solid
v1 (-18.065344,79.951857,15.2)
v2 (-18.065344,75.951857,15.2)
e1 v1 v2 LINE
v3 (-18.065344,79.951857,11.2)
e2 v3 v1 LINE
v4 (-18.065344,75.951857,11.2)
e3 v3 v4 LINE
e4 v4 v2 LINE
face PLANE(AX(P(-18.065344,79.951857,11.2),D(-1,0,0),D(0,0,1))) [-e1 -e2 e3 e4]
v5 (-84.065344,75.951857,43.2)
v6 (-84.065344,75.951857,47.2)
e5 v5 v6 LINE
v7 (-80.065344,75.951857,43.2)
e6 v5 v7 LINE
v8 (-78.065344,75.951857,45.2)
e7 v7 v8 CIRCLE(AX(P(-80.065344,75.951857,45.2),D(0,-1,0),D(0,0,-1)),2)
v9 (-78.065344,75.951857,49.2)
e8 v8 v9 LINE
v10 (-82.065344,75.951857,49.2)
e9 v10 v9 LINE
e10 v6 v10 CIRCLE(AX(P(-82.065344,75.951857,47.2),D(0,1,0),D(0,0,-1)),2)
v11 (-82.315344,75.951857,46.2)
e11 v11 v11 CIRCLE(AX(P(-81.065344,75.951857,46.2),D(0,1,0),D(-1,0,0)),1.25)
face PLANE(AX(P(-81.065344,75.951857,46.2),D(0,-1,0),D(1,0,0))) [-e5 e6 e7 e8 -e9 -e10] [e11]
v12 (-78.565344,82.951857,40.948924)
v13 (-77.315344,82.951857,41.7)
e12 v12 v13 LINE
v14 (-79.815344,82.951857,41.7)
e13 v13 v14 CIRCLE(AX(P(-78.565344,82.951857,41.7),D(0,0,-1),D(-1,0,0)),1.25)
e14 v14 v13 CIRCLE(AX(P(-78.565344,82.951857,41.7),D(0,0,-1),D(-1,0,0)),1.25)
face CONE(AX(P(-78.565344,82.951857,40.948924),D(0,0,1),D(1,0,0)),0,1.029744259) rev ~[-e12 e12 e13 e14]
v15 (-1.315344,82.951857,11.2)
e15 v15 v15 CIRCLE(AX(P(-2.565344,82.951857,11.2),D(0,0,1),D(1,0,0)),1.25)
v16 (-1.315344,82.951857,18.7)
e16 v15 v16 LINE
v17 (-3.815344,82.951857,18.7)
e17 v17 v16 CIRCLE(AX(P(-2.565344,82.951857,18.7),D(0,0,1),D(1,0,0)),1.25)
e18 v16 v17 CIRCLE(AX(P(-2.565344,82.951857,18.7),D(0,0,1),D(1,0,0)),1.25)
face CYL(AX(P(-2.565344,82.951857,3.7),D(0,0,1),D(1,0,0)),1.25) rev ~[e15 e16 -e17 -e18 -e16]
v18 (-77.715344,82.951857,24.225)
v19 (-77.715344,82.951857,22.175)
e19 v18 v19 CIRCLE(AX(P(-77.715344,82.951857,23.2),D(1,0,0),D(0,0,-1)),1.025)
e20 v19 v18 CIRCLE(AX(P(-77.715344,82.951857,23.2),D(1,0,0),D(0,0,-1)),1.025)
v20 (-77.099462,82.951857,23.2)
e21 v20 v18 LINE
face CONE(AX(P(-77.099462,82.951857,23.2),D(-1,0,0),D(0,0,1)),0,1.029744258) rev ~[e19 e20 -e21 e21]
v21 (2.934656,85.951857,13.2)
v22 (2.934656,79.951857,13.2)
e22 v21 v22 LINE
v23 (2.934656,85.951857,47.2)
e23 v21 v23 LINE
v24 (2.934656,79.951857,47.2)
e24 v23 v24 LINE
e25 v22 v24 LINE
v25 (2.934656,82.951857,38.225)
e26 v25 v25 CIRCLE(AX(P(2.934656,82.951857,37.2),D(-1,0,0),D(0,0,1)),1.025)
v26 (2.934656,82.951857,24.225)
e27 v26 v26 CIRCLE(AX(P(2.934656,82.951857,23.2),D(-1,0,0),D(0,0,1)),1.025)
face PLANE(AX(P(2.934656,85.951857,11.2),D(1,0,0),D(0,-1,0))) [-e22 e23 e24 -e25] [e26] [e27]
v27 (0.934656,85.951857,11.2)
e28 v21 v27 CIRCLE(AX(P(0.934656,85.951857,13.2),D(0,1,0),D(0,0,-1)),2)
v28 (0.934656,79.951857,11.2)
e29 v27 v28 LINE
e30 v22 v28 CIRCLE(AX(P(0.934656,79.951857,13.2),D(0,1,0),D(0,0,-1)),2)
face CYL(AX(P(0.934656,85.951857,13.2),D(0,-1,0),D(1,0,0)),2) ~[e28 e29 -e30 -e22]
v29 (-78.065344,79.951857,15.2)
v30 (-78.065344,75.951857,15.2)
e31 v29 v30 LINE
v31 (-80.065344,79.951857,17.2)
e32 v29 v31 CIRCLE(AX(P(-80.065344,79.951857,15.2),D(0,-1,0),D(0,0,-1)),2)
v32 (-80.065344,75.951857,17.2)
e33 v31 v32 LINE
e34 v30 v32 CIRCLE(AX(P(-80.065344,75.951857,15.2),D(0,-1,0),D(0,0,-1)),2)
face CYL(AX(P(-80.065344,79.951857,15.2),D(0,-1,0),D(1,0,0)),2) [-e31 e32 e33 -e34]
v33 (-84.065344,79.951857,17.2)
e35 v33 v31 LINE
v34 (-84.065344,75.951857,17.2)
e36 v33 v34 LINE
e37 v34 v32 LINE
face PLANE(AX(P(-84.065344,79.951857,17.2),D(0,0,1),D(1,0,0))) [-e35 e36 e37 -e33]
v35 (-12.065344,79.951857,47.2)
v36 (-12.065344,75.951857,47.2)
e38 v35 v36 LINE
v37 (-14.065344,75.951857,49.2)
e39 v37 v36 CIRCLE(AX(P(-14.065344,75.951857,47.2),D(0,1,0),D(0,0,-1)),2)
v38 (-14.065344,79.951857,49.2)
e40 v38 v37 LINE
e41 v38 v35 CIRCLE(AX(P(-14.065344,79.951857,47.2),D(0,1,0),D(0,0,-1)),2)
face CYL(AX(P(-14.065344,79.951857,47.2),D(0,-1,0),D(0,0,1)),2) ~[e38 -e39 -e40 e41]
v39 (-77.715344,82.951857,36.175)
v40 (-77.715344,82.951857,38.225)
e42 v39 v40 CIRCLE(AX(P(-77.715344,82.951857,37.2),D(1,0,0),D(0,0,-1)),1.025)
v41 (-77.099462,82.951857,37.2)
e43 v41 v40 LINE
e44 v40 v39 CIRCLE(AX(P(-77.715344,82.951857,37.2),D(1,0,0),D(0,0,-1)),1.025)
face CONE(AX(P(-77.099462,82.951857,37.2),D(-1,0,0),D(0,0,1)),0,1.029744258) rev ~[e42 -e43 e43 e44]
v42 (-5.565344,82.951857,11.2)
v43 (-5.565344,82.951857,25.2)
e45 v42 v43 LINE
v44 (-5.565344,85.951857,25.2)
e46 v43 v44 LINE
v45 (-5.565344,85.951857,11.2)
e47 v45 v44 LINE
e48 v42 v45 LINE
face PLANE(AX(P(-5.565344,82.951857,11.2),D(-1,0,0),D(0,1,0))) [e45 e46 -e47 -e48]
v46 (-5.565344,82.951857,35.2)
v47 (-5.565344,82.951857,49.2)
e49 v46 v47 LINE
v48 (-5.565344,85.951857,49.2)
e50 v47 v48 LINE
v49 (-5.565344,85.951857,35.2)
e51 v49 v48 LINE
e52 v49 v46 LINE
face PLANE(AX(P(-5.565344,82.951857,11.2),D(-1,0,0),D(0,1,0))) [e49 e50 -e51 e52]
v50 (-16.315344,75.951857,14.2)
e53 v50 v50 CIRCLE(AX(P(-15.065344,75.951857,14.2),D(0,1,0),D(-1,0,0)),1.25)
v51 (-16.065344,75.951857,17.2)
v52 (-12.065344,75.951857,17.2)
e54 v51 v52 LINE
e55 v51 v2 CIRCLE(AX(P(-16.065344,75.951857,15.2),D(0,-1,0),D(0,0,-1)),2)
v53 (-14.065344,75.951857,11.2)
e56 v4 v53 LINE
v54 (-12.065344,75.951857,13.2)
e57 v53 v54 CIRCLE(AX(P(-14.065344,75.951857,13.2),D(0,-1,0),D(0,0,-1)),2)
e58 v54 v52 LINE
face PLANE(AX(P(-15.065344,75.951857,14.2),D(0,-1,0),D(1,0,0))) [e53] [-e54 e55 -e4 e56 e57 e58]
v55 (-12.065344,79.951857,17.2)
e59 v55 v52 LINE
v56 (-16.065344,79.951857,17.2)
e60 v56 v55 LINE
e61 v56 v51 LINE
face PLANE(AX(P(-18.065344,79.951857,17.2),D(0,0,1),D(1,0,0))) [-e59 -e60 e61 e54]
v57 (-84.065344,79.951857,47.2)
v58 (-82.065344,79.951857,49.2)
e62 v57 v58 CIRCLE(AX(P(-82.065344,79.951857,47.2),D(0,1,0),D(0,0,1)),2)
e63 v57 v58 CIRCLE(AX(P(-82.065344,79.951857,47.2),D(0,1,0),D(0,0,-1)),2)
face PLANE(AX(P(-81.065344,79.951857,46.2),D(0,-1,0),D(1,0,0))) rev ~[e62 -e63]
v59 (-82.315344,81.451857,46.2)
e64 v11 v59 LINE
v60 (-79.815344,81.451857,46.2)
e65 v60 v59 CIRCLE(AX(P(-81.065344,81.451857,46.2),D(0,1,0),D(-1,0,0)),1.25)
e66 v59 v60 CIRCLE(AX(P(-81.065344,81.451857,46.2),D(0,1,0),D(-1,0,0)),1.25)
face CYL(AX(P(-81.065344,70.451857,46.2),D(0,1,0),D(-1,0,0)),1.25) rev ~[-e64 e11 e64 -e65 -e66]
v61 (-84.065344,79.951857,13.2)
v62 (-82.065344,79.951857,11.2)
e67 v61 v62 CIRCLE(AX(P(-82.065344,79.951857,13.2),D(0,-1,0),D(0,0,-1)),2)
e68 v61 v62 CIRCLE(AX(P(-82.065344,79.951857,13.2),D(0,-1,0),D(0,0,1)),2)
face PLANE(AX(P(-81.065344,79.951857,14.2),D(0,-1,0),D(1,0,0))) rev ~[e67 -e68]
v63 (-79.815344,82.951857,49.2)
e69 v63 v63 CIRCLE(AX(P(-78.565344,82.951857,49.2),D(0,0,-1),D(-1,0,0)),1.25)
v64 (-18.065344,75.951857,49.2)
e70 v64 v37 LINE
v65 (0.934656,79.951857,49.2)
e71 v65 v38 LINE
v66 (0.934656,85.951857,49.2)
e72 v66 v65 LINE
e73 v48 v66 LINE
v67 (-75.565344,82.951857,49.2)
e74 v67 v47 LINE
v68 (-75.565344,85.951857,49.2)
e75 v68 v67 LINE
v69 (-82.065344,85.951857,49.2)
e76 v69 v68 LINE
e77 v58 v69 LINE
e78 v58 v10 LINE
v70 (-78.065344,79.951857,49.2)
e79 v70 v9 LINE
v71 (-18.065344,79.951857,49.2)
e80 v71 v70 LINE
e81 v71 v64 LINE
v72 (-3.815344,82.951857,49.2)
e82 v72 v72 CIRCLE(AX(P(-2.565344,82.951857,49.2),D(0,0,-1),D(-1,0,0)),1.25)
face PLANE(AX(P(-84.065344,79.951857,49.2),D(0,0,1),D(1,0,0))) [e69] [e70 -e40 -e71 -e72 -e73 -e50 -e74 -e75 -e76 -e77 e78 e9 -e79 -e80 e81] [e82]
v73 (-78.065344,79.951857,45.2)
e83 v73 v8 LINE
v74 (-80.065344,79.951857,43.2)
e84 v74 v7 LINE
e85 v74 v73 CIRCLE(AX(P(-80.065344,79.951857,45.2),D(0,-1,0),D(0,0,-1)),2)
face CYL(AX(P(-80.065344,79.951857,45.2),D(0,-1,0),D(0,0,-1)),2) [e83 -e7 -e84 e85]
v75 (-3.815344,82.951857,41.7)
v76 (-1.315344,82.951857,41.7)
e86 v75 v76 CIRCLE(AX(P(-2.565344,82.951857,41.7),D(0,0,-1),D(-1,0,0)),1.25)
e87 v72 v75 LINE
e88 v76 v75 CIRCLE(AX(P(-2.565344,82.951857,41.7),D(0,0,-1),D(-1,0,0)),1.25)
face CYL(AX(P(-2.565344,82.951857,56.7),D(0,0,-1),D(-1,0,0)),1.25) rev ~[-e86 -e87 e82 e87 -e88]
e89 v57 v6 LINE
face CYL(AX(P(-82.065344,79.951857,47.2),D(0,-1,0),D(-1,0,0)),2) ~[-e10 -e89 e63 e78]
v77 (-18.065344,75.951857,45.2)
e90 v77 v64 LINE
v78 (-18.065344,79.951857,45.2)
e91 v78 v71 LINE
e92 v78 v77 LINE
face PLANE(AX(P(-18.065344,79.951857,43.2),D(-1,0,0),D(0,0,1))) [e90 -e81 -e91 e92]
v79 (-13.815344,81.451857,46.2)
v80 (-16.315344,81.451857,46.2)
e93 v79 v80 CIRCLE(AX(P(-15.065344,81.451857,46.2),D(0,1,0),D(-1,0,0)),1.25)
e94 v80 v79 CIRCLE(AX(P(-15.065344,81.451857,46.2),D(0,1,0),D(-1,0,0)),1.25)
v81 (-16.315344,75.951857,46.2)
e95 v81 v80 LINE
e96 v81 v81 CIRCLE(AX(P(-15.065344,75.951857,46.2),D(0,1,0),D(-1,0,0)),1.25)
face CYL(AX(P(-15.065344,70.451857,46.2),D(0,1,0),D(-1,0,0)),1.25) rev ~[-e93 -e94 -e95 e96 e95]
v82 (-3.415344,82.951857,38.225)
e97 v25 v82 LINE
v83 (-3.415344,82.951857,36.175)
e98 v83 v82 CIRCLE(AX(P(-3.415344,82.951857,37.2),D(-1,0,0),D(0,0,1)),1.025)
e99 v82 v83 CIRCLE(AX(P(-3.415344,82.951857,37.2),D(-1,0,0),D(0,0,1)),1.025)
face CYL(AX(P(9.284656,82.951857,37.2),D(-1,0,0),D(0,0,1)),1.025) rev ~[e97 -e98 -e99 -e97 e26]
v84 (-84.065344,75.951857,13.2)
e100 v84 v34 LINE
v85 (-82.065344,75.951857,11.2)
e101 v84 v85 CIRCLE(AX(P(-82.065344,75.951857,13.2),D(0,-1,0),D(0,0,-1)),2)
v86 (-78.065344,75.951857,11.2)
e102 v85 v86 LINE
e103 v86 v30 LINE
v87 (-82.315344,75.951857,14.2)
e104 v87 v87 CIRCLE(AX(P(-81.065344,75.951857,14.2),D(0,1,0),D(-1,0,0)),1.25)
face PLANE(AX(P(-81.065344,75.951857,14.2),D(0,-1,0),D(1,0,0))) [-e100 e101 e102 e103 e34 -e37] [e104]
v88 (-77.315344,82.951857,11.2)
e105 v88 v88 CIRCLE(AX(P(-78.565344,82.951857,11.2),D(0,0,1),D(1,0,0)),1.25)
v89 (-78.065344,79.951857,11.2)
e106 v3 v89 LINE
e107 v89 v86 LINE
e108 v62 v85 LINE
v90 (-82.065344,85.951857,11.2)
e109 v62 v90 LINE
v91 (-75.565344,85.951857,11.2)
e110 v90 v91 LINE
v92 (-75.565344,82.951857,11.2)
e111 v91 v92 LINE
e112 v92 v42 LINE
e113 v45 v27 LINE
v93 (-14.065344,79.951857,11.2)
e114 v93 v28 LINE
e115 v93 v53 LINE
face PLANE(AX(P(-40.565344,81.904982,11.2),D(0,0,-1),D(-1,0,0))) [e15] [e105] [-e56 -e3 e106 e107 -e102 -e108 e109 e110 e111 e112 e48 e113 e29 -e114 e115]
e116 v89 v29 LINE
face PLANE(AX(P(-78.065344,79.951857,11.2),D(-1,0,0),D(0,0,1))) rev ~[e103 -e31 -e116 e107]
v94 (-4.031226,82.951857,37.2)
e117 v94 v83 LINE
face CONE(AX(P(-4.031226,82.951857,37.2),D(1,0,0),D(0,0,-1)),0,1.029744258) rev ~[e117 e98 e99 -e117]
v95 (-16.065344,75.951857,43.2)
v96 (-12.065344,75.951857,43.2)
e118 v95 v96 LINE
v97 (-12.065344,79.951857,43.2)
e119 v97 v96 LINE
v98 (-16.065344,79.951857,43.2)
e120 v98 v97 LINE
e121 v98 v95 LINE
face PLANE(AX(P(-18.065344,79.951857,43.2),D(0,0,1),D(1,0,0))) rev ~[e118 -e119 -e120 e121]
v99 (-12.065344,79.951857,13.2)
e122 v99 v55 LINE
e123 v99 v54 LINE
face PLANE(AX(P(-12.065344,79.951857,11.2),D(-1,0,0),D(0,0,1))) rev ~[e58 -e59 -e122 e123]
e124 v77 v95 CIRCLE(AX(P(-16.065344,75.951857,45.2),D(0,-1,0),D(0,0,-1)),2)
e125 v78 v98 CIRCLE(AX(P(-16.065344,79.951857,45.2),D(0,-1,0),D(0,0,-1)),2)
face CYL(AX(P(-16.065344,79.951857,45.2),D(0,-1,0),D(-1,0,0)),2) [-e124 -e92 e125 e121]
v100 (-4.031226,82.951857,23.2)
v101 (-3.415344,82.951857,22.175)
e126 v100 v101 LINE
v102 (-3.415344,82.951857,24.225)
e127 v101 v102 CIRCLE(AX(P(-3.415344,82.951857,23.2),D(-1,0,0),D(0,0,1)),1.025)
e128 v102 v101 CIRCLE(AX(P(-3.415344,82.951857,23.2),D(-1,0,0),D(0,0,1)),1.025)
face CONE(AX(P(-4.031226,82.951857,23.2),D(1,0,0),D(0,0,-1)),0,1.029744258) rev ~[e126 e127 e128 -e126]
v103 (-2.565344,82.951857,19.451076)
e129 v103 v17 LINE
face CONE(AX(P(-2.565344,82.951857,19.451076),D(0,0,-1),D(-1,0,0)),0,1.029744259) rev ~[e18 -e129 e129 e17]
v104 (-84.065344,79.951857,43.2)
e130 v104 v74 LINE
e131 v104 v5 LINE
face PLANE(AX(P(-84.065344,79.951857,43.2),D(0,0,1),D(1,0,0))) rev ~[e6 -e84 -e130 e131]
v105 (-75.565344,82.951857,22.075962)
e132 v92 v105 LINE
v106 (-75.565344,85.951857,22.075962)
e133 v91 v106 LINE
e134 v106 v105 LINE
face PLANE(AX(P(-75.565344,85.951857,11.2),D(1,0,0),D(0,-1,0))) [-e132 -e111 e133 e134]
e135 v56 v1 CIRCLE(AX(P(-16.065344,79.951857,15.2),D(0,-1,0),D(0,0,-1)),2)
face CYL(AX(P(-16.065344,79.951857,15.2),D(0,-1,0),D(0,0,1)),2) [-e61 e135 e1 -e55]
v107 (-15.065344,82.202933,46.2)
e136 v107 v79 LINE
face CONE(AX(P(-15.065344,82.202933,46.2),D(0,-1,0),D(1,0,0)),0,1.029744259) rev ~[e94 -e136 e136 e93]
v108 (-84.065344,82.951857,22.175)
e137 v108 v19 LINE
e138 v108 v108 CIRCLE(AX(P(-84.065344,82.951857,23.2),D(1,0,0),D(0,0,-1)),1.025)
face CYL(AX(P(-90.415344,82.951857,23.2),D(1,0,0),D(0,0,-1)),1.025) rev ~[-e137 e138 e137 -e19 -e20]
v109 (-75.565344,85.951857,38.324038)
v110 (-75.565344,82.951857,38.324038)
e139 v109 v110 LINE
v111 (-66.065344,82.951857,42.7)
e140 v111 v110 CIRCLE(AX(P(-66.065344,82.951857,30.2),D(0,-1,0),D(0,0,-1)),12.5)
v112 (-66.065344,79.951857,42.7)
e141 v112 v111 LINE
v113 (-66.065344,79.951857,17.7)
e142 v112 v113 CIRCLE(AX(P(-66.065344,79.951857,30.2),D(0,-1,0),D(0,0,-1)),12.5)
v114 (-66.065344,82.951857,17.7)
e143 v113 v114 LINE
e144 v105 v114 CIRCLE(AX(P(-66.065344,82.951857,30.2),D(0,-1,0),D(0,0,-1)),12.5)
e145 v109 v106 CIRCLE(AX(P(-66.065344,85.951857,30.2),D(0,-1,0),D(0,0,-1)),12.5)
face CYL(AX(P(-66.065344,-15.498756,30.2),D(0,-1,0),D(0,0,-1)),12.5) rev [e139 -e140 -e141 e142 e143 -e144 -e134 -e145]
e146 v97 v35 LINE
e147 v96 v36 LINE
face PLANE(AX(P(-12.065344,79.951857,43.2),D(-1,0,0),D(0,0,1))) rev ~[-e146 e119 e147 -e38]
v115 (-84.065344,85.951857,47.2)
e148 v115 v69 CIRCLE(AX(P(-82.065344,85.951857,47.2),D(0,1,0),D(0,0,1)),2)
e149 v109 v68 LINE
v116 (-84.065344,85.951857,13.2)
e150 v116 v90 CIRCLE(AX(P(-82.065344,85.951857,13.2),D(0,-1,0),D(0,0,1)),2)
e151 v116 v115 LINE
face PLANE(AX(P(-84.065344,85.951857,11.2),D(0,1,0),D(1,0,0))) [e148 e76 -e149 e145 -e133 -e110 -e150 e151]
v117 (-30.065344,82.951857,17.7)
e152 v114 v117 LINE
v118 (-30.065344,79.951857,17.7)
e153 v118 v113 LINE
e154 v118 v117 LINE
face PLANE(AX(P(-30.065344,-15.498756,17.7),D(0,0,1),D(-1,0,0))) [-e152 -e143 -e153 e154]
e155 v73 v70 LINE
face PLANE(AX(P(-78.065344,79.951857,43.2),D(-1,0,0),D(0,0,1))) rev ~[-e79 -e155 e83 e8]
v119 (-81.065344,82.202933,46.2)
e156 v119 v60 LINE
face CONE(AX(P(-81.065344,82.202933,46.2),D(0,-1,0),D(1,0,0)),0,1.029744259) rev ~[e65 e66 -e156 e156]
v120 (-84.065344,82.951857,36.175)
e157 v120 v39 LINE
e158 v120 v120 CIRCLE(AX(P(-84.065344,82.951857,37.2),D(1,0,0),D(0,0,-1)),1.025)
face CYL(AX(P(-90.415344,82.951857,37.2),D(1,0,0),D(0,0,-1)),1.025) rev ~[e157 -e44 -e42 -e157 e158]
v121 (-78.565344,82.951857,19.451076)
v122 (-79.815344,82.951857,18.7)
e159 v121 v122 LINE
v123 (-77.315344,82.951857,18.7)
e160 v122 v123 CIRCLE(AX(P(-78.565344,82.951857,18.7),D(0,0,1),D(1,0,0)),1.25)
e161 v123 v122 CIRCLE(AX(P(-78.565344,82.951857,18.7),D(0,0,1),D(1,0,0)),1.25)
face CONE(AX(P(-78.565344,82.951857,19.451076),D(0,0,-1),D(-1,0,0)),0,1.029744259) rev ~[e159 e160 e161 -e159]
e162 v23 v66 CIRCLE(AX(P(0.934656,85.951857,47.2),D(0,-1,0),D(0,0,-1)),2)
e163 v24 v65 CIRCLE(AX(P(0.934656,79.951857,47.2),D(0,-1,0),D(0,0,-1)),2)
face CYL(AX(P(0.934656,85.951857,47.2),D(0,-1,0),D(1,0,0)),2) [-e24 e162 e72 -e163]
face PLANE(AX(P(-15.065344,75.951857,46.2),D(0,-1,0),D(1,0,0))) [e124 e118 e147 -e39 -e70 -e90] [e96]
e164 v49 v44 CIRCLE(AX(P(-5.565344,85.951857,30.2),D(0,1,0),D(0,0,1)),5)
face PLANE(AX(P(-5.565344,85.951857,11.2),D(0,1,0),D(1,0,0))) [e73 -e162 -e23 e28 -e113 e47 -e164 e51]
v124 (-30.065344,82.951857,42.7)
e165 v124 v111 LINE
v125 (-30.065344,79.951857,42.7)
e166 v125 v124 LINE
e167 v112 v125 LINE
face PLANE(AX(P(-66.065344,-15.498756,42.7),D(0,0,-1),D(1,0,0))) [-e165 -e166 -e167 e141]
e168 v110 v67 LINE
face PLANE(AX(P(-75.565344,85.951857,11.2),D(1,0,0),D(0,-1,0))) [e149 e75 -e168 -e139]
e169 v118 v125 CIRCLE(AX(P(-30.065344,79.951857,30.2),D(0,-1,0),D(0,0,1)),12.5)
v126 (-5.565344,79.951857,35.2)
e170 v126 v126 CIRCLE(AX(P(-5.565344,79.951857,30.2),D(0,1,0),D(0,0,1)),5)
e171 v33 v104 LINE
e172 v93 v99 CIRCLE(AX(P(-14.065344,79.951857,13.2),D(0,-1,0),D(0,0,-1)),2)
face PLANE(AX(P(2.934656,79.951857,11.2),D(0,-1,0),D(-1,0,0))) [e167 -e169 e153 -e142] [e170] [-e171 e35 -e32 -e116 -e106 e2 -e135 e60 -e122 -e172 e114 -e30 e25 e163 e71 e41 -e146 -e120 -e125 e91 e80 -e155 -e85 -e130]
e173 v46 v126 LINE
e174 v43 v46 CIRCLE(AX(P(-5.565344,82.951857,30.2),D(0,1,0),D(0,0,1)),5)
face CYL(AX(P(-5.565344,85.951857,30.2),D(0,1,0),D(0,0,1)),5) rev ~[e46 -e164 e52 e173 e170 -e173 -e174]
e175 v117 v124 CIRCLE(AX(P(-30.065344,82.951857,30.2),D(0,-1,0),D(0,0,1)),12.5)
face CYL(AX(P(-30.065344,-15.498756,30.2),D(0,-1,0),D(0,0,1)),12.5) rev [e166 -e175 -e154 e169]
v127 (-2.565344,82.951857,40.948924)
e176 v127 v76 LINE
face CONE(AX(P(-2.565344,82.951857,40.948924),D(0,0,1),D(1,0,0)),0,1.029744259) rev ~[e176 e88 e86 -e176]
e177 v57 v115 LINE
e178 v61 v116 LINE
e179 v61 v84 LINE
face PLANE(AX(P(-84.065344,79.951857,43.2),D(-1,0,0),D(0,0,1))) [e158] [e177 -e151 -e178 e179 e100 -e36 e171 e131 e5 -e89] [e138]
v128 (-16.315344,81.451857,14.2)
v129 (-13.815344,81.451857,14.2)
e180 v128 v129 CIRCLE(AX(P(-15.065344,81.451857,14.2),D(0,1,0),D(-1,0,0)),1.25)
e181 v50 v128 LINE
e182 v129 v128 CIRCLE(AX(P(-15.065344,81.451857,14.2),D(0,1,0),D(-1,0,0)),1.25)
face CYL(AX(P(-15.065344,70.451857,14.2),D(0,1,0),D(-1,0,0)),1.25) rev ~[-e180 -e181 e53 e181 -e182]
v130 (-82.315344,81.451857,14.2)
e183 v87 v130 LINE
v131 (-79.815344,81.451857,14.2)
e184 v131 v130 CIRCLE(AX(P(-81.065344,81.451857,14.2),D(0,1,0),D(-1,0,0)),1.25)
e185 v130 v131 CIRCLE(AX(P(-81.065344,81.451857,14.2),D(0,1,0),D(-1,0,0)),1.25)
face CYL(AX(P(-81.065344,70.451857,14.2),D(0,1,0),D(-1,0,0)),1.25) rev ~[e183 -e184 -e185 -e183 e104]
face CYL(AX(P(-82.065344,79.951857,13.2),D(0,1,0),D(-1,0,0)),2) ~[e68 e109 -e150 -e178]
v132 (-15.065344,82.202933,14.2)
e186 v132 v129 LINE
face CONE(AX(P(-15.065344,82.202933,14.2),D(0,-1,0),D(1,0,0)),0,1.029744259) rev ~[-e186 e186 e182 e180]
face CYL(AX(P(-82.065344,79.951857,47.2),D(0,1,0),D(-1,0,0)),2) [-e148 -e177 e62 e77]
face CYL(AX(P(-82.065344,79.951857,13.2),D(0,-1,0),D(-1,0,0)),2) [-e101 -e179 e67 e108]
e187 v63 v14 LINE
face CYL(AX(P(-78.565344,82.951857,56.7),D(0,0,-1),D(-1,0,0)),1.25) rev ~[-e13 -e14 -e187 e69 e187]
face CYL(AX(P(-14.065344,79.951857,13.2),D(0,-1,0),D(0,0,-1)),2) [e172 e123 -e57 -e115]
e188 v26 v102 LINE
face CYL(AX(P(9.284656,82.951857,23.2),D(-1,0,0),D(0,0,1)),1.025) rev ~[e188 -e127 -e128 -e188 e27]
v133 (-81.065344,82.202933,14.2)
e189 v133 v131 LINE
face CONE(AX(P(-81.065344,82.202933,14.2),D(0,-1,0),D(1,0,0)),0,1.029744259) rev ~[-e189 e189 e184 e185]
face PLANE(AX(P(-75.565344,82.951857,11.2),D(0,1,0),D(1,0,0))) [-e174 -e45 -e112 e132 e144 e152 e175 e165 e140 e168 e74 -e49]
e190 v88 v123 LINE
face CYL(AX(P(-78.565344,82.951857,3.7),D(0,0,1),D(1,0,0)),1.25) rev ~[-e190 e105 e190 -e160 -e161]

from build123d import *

# Parameters (mm, degrees)
BOSS_EXTRUDE1_DEPTH          = 38
FILLET3_R                    = 2
CUT_EXTRUDE1_DEPTH           = 98.450613347
CUT_EXTRUDE1_DEPTH_BACK      = 98.450613347
M3X0_5_TAPPED_HOLE3_D        = 2.5
M3X0_5_TAPPED_HOLE3_DEPTH    = 7.5
M3X0_5_TAPPED_HOLE3_TIP      = 0.751075774
M3X0_5_TAPPED_HOLE4_D        = 2.5
M3X0_5_TAPPED_HOLE4_DEPTH    = 7.5
M3X0_5_TAPPED_HOLE4_TIP      = 0.751075774
M2_5X0_45_TAPPED_HOLE1_D     = 2.05
M2_5X0_45_TAPPED_HOLE1_DEPTH = 6.35
M2_5X0_45_TAPPED_HOLE1_TIP   = 0.615882135
M2_5X0_45_TAPPED_HOLE2_D     = 2.05
M2_5X0_45_TAPPED_HOLE2_DEPTH = 6.35
M2_5X0_45_TAPPED_HOLE2_TIP   = 0.615882135
SKETCH14_R                   = 5
CUT_EXTRUDE2_DEPTH           = 98.58904673
SKETCH16_W                   = 6
SKETCH16_H                   = 6
BOSS_EXTRUDE2_DEPTH          = 4
FILLET4_R                    = 2
M3X0_5_TAPPED_HOLE5_D        = 2.5
M3X0_5_TAPPED_HOLE5_DEPTH    = 5.5
M3X0_5_TAPPED_HOLE5_TIP      = 0.751075774


with BuildPart() as part:
    # Sketch2 → Boss-Extrude1 (new body)
    with BuildSketch(Plane.XY.offset(11.2)):
        Polygon((-84.06534388, 85.95185693), (-75.56534388, 85.95185693), (-75.56534388, 82.95185693), (-5.56534388, 82.95185693), (-5.56534388, 85.95185693), (2.93465612, 85.95185693), (2.93465612, 79.95185693), (-84.06534388, 79.95185693), align=None)
    extrude(amount=BOSS_EXTRUDE1_DEPTH)

    # Fillet3
    fillet3_edges = [part.edges().sort_by_distance(p)[0] for p in [
        (2.93465612, 82.95185693, 49.2),
        (-84.06534388, 82.95185693, 11.2),
        (-84.06534388, 82.95185693, 49.2),
        (2.93465612, 82.95185693, 11.2),
    ]]
    fillet(fillet3_edges, radius=FILLET3_R)

    # Sketch3 → Cut-Extrude1 (cut, two sides: drawn at the far end of the back side and taken through both)
    with BuildSketch(Plane(origin=(0, 82.95185693, 0), x_dir=(1, 0, 0), z_dir=(0, 1, 0)).offset(-CUT_EXTRUDE1_DEPTH_BACK)):
        with BuildLine():
            Line((-66.06534388, -42.7), (-30.06534388, -42.7))
            ThreePointArc((-30.06534388, -42.7), (-17.56534388, -30.2), (-30.06534388, -17.7))
            Line((-30.06534388, -17.7), (-66.06534388, -17.7))
            ThreePointArc((-66.06534388, -17.7), (-78.56534388, -30.2), (-66.06534388, -42.7))
        make_face()
    extrude(amount=CUT_EXTRUDE1_DEPTH + CUT_EXTRUDE1_DEPTH_BACK, mode=Mode.SUBTRACT)

    # M3x0.5 Tapped Hole3
    with Locations(Plane.XY.offset(49.2)):
        with Locations((-78.56534388, 82.95185693), (-2.56534388, 82.95185693)):
            Hole(M3X0_5_TAPPED_HOLE3_D / 2, depth=M3X0_5_TAPPED_HOLE3_DEPTH)
            with Locations((0, 0, -(M3X0_5_TAPPED_HOLE3_DEPTH + M3X0_5_TAPPED_HOLE3_TIP / 2))):  # 118° drill point
                Cone(0, M3X0_5_TAPPED_HOLE3_D / 2, M3X0_5_TAPPED_HOLE3_TIP, mode=Mode.SUBTRACT)

    # M3x0.5 Tapped Hole4
    with Locations(Plane(origin=(0, 0, 11.2), x_dir=(-1, 0, 0), z_dir=(0, 0, -1))):
        with Locations((2.56534388, 82.95185693), (78.56534388, 82.95185693)):
            Hole(M3X0_5_TAPPED_HOLE4_D / 2, depth=M3X0_5_TAPPED_HOLE4_DEPTH)
            with Locations((0, 0, -(M3X0_5_TAPPED_HOLE4_DEPTH + M3X0_5_TAPPED_HOLE4_TIP / 2))):  # 118° drill point
                Cone(0, M3X0_5_TAPPED_HOLE4_D / 2, M3X0_5_TAPPED_HOLE4_TIP, mode=Mode.SUBTRACT)

    # M2.5x0.45 Tapped Hole1
    with Locations(Plane.ZY.offset(84.06534388)):
        with Locations((23.2, 82.95185693), (37.2, 82.95185693)):
            Hole(M2_5X0_45_TAPPED_HOLE1_D / 2, depth=M2_5X0_45_TAPPED_HOLE1_DEPTH)
            with Locations((0, 0, -(M2_5X0_45_TAPPED_HOLE1_DEPTH + M2_5X0_45_TAPPED_HOLE1_TIP / 2))):  # 118° drill point
                Cone(0, M2_5X0_45_TAPPED_HOLE1_D / 2, M2_5X0_45_TAPPED_HOLE1_TIP, mode=Mode.SUBTRACT)

    # M2.5x0.45 Tapped Hole2
    with Locations(Plane(origin=(2.93465612, 0, 0), x_dir=(0, 0, -1), z_dir=(1, 0, 0))):
        with Locations((-37.2, 82.95185693), (-23.2, 82.95185693)):
            Hole(M2_5X0_45_TAPPED_HOLE2_D / 2, depth=M2_5X0_45_TAPPED_HOLE2_DEPTH)
            with Locations((0, 0, -(M2_5X0_45_TAPPED_HOLE2_DEPTH + M2_5X0_45_TAPPED_HOLE2_TIP / 2))):  # 118° drill point
                Cone(0, M2_5X0_45_TAPPED_HOLE2_D / 2, M2_5X0_45_TAPPED_HOLE2_TIP, mode=Mode.SUBTRACT)

    # Sketch14 → Cut-Extrude2 (cut, through all)
    with BuildSketch(Plane(origin=(0, 85.95185693, 0), x_dir=(1, 0, 0), z_dir=(0, 1, 0))):
        with Locations(Location((-5.56534388, -30.2, 0), (0, 0, 270))):
            Circle(SKETCH14_R)
    extrude(amount=-CUT_EXTRUDE2_DEPTH, mode=Mode.SUBTRACT)

    # Sketch16 → Boss-Extrude2 (add)
    with BuildSketch(Plane.XZ.offset(-79.95185693)):
        with Locations((-81.06534388, 46.2)):
            Rectangle(SKETCH16_W, SKETCH16_H)
        with Locations((-81.06534388, 14.2)):
            Rectangle(SKETCH16_W, SKETCH16_H)
        with Locations((-15.06534388, 46.2)):
            Rectangle(SKETCH16_W, SKETCH16_H)
        with Locations((-15.06534388, 14.2)):
            Rectangle(SKETCH16_W, SKETCH16_H)
    extrude(amount=BOSS_EXTRUDE2_DEPTH)

    # Fillet4
    fillet4_edges = [part.edges().sort_by_distance(p)[0] for p in [
        (-12.06534388, 77.95185693, 49.2),
        (-12.06534388, 77.95185693, 11.2),
        (-84.06534388, 77.95185693, 11.2),
        (-84.06534388, 77.95185693, 49.2),
        (-78.06534388, 77.95185693, 43.2),
        (-78.06534388, 77.95185693, 17.2),
        (-18.06534388, 77.95185693, 17.2),
        (-18.06534388, 77.95185693, 43.2),
    ]]
    fillet(fillet4_edges, radius=FILLET4_R)

    # M3x0.5 Tapped Hole5
    with Locations(Plane.XZ.offset(-75.95185693)):
        with Locations((-81.06534388, 46.2), (-81.06534388, 14.2), (-15.06534388, 14.2), (-15.06534388, 46.2)):
            Hole(M3X0_5_TAPPED_HOLE5_D / 2, depth=M3X0_5_TAPPED_HOLE5_DEPTH)
            with Locations((0, 0, -(M3X0_5_TAPPED_HOLE5_DEPTH + M3X0_5_TAPPED_HOLE5_TIP / 2))):  # 118° drill point
                Cone(0, M3X0_5_TAPPED_HOLE5_D / 2, M3X0_5_TAPPED_HOLE5_TIP, mode=Mode.SUBTRACT)


solid = part.part
